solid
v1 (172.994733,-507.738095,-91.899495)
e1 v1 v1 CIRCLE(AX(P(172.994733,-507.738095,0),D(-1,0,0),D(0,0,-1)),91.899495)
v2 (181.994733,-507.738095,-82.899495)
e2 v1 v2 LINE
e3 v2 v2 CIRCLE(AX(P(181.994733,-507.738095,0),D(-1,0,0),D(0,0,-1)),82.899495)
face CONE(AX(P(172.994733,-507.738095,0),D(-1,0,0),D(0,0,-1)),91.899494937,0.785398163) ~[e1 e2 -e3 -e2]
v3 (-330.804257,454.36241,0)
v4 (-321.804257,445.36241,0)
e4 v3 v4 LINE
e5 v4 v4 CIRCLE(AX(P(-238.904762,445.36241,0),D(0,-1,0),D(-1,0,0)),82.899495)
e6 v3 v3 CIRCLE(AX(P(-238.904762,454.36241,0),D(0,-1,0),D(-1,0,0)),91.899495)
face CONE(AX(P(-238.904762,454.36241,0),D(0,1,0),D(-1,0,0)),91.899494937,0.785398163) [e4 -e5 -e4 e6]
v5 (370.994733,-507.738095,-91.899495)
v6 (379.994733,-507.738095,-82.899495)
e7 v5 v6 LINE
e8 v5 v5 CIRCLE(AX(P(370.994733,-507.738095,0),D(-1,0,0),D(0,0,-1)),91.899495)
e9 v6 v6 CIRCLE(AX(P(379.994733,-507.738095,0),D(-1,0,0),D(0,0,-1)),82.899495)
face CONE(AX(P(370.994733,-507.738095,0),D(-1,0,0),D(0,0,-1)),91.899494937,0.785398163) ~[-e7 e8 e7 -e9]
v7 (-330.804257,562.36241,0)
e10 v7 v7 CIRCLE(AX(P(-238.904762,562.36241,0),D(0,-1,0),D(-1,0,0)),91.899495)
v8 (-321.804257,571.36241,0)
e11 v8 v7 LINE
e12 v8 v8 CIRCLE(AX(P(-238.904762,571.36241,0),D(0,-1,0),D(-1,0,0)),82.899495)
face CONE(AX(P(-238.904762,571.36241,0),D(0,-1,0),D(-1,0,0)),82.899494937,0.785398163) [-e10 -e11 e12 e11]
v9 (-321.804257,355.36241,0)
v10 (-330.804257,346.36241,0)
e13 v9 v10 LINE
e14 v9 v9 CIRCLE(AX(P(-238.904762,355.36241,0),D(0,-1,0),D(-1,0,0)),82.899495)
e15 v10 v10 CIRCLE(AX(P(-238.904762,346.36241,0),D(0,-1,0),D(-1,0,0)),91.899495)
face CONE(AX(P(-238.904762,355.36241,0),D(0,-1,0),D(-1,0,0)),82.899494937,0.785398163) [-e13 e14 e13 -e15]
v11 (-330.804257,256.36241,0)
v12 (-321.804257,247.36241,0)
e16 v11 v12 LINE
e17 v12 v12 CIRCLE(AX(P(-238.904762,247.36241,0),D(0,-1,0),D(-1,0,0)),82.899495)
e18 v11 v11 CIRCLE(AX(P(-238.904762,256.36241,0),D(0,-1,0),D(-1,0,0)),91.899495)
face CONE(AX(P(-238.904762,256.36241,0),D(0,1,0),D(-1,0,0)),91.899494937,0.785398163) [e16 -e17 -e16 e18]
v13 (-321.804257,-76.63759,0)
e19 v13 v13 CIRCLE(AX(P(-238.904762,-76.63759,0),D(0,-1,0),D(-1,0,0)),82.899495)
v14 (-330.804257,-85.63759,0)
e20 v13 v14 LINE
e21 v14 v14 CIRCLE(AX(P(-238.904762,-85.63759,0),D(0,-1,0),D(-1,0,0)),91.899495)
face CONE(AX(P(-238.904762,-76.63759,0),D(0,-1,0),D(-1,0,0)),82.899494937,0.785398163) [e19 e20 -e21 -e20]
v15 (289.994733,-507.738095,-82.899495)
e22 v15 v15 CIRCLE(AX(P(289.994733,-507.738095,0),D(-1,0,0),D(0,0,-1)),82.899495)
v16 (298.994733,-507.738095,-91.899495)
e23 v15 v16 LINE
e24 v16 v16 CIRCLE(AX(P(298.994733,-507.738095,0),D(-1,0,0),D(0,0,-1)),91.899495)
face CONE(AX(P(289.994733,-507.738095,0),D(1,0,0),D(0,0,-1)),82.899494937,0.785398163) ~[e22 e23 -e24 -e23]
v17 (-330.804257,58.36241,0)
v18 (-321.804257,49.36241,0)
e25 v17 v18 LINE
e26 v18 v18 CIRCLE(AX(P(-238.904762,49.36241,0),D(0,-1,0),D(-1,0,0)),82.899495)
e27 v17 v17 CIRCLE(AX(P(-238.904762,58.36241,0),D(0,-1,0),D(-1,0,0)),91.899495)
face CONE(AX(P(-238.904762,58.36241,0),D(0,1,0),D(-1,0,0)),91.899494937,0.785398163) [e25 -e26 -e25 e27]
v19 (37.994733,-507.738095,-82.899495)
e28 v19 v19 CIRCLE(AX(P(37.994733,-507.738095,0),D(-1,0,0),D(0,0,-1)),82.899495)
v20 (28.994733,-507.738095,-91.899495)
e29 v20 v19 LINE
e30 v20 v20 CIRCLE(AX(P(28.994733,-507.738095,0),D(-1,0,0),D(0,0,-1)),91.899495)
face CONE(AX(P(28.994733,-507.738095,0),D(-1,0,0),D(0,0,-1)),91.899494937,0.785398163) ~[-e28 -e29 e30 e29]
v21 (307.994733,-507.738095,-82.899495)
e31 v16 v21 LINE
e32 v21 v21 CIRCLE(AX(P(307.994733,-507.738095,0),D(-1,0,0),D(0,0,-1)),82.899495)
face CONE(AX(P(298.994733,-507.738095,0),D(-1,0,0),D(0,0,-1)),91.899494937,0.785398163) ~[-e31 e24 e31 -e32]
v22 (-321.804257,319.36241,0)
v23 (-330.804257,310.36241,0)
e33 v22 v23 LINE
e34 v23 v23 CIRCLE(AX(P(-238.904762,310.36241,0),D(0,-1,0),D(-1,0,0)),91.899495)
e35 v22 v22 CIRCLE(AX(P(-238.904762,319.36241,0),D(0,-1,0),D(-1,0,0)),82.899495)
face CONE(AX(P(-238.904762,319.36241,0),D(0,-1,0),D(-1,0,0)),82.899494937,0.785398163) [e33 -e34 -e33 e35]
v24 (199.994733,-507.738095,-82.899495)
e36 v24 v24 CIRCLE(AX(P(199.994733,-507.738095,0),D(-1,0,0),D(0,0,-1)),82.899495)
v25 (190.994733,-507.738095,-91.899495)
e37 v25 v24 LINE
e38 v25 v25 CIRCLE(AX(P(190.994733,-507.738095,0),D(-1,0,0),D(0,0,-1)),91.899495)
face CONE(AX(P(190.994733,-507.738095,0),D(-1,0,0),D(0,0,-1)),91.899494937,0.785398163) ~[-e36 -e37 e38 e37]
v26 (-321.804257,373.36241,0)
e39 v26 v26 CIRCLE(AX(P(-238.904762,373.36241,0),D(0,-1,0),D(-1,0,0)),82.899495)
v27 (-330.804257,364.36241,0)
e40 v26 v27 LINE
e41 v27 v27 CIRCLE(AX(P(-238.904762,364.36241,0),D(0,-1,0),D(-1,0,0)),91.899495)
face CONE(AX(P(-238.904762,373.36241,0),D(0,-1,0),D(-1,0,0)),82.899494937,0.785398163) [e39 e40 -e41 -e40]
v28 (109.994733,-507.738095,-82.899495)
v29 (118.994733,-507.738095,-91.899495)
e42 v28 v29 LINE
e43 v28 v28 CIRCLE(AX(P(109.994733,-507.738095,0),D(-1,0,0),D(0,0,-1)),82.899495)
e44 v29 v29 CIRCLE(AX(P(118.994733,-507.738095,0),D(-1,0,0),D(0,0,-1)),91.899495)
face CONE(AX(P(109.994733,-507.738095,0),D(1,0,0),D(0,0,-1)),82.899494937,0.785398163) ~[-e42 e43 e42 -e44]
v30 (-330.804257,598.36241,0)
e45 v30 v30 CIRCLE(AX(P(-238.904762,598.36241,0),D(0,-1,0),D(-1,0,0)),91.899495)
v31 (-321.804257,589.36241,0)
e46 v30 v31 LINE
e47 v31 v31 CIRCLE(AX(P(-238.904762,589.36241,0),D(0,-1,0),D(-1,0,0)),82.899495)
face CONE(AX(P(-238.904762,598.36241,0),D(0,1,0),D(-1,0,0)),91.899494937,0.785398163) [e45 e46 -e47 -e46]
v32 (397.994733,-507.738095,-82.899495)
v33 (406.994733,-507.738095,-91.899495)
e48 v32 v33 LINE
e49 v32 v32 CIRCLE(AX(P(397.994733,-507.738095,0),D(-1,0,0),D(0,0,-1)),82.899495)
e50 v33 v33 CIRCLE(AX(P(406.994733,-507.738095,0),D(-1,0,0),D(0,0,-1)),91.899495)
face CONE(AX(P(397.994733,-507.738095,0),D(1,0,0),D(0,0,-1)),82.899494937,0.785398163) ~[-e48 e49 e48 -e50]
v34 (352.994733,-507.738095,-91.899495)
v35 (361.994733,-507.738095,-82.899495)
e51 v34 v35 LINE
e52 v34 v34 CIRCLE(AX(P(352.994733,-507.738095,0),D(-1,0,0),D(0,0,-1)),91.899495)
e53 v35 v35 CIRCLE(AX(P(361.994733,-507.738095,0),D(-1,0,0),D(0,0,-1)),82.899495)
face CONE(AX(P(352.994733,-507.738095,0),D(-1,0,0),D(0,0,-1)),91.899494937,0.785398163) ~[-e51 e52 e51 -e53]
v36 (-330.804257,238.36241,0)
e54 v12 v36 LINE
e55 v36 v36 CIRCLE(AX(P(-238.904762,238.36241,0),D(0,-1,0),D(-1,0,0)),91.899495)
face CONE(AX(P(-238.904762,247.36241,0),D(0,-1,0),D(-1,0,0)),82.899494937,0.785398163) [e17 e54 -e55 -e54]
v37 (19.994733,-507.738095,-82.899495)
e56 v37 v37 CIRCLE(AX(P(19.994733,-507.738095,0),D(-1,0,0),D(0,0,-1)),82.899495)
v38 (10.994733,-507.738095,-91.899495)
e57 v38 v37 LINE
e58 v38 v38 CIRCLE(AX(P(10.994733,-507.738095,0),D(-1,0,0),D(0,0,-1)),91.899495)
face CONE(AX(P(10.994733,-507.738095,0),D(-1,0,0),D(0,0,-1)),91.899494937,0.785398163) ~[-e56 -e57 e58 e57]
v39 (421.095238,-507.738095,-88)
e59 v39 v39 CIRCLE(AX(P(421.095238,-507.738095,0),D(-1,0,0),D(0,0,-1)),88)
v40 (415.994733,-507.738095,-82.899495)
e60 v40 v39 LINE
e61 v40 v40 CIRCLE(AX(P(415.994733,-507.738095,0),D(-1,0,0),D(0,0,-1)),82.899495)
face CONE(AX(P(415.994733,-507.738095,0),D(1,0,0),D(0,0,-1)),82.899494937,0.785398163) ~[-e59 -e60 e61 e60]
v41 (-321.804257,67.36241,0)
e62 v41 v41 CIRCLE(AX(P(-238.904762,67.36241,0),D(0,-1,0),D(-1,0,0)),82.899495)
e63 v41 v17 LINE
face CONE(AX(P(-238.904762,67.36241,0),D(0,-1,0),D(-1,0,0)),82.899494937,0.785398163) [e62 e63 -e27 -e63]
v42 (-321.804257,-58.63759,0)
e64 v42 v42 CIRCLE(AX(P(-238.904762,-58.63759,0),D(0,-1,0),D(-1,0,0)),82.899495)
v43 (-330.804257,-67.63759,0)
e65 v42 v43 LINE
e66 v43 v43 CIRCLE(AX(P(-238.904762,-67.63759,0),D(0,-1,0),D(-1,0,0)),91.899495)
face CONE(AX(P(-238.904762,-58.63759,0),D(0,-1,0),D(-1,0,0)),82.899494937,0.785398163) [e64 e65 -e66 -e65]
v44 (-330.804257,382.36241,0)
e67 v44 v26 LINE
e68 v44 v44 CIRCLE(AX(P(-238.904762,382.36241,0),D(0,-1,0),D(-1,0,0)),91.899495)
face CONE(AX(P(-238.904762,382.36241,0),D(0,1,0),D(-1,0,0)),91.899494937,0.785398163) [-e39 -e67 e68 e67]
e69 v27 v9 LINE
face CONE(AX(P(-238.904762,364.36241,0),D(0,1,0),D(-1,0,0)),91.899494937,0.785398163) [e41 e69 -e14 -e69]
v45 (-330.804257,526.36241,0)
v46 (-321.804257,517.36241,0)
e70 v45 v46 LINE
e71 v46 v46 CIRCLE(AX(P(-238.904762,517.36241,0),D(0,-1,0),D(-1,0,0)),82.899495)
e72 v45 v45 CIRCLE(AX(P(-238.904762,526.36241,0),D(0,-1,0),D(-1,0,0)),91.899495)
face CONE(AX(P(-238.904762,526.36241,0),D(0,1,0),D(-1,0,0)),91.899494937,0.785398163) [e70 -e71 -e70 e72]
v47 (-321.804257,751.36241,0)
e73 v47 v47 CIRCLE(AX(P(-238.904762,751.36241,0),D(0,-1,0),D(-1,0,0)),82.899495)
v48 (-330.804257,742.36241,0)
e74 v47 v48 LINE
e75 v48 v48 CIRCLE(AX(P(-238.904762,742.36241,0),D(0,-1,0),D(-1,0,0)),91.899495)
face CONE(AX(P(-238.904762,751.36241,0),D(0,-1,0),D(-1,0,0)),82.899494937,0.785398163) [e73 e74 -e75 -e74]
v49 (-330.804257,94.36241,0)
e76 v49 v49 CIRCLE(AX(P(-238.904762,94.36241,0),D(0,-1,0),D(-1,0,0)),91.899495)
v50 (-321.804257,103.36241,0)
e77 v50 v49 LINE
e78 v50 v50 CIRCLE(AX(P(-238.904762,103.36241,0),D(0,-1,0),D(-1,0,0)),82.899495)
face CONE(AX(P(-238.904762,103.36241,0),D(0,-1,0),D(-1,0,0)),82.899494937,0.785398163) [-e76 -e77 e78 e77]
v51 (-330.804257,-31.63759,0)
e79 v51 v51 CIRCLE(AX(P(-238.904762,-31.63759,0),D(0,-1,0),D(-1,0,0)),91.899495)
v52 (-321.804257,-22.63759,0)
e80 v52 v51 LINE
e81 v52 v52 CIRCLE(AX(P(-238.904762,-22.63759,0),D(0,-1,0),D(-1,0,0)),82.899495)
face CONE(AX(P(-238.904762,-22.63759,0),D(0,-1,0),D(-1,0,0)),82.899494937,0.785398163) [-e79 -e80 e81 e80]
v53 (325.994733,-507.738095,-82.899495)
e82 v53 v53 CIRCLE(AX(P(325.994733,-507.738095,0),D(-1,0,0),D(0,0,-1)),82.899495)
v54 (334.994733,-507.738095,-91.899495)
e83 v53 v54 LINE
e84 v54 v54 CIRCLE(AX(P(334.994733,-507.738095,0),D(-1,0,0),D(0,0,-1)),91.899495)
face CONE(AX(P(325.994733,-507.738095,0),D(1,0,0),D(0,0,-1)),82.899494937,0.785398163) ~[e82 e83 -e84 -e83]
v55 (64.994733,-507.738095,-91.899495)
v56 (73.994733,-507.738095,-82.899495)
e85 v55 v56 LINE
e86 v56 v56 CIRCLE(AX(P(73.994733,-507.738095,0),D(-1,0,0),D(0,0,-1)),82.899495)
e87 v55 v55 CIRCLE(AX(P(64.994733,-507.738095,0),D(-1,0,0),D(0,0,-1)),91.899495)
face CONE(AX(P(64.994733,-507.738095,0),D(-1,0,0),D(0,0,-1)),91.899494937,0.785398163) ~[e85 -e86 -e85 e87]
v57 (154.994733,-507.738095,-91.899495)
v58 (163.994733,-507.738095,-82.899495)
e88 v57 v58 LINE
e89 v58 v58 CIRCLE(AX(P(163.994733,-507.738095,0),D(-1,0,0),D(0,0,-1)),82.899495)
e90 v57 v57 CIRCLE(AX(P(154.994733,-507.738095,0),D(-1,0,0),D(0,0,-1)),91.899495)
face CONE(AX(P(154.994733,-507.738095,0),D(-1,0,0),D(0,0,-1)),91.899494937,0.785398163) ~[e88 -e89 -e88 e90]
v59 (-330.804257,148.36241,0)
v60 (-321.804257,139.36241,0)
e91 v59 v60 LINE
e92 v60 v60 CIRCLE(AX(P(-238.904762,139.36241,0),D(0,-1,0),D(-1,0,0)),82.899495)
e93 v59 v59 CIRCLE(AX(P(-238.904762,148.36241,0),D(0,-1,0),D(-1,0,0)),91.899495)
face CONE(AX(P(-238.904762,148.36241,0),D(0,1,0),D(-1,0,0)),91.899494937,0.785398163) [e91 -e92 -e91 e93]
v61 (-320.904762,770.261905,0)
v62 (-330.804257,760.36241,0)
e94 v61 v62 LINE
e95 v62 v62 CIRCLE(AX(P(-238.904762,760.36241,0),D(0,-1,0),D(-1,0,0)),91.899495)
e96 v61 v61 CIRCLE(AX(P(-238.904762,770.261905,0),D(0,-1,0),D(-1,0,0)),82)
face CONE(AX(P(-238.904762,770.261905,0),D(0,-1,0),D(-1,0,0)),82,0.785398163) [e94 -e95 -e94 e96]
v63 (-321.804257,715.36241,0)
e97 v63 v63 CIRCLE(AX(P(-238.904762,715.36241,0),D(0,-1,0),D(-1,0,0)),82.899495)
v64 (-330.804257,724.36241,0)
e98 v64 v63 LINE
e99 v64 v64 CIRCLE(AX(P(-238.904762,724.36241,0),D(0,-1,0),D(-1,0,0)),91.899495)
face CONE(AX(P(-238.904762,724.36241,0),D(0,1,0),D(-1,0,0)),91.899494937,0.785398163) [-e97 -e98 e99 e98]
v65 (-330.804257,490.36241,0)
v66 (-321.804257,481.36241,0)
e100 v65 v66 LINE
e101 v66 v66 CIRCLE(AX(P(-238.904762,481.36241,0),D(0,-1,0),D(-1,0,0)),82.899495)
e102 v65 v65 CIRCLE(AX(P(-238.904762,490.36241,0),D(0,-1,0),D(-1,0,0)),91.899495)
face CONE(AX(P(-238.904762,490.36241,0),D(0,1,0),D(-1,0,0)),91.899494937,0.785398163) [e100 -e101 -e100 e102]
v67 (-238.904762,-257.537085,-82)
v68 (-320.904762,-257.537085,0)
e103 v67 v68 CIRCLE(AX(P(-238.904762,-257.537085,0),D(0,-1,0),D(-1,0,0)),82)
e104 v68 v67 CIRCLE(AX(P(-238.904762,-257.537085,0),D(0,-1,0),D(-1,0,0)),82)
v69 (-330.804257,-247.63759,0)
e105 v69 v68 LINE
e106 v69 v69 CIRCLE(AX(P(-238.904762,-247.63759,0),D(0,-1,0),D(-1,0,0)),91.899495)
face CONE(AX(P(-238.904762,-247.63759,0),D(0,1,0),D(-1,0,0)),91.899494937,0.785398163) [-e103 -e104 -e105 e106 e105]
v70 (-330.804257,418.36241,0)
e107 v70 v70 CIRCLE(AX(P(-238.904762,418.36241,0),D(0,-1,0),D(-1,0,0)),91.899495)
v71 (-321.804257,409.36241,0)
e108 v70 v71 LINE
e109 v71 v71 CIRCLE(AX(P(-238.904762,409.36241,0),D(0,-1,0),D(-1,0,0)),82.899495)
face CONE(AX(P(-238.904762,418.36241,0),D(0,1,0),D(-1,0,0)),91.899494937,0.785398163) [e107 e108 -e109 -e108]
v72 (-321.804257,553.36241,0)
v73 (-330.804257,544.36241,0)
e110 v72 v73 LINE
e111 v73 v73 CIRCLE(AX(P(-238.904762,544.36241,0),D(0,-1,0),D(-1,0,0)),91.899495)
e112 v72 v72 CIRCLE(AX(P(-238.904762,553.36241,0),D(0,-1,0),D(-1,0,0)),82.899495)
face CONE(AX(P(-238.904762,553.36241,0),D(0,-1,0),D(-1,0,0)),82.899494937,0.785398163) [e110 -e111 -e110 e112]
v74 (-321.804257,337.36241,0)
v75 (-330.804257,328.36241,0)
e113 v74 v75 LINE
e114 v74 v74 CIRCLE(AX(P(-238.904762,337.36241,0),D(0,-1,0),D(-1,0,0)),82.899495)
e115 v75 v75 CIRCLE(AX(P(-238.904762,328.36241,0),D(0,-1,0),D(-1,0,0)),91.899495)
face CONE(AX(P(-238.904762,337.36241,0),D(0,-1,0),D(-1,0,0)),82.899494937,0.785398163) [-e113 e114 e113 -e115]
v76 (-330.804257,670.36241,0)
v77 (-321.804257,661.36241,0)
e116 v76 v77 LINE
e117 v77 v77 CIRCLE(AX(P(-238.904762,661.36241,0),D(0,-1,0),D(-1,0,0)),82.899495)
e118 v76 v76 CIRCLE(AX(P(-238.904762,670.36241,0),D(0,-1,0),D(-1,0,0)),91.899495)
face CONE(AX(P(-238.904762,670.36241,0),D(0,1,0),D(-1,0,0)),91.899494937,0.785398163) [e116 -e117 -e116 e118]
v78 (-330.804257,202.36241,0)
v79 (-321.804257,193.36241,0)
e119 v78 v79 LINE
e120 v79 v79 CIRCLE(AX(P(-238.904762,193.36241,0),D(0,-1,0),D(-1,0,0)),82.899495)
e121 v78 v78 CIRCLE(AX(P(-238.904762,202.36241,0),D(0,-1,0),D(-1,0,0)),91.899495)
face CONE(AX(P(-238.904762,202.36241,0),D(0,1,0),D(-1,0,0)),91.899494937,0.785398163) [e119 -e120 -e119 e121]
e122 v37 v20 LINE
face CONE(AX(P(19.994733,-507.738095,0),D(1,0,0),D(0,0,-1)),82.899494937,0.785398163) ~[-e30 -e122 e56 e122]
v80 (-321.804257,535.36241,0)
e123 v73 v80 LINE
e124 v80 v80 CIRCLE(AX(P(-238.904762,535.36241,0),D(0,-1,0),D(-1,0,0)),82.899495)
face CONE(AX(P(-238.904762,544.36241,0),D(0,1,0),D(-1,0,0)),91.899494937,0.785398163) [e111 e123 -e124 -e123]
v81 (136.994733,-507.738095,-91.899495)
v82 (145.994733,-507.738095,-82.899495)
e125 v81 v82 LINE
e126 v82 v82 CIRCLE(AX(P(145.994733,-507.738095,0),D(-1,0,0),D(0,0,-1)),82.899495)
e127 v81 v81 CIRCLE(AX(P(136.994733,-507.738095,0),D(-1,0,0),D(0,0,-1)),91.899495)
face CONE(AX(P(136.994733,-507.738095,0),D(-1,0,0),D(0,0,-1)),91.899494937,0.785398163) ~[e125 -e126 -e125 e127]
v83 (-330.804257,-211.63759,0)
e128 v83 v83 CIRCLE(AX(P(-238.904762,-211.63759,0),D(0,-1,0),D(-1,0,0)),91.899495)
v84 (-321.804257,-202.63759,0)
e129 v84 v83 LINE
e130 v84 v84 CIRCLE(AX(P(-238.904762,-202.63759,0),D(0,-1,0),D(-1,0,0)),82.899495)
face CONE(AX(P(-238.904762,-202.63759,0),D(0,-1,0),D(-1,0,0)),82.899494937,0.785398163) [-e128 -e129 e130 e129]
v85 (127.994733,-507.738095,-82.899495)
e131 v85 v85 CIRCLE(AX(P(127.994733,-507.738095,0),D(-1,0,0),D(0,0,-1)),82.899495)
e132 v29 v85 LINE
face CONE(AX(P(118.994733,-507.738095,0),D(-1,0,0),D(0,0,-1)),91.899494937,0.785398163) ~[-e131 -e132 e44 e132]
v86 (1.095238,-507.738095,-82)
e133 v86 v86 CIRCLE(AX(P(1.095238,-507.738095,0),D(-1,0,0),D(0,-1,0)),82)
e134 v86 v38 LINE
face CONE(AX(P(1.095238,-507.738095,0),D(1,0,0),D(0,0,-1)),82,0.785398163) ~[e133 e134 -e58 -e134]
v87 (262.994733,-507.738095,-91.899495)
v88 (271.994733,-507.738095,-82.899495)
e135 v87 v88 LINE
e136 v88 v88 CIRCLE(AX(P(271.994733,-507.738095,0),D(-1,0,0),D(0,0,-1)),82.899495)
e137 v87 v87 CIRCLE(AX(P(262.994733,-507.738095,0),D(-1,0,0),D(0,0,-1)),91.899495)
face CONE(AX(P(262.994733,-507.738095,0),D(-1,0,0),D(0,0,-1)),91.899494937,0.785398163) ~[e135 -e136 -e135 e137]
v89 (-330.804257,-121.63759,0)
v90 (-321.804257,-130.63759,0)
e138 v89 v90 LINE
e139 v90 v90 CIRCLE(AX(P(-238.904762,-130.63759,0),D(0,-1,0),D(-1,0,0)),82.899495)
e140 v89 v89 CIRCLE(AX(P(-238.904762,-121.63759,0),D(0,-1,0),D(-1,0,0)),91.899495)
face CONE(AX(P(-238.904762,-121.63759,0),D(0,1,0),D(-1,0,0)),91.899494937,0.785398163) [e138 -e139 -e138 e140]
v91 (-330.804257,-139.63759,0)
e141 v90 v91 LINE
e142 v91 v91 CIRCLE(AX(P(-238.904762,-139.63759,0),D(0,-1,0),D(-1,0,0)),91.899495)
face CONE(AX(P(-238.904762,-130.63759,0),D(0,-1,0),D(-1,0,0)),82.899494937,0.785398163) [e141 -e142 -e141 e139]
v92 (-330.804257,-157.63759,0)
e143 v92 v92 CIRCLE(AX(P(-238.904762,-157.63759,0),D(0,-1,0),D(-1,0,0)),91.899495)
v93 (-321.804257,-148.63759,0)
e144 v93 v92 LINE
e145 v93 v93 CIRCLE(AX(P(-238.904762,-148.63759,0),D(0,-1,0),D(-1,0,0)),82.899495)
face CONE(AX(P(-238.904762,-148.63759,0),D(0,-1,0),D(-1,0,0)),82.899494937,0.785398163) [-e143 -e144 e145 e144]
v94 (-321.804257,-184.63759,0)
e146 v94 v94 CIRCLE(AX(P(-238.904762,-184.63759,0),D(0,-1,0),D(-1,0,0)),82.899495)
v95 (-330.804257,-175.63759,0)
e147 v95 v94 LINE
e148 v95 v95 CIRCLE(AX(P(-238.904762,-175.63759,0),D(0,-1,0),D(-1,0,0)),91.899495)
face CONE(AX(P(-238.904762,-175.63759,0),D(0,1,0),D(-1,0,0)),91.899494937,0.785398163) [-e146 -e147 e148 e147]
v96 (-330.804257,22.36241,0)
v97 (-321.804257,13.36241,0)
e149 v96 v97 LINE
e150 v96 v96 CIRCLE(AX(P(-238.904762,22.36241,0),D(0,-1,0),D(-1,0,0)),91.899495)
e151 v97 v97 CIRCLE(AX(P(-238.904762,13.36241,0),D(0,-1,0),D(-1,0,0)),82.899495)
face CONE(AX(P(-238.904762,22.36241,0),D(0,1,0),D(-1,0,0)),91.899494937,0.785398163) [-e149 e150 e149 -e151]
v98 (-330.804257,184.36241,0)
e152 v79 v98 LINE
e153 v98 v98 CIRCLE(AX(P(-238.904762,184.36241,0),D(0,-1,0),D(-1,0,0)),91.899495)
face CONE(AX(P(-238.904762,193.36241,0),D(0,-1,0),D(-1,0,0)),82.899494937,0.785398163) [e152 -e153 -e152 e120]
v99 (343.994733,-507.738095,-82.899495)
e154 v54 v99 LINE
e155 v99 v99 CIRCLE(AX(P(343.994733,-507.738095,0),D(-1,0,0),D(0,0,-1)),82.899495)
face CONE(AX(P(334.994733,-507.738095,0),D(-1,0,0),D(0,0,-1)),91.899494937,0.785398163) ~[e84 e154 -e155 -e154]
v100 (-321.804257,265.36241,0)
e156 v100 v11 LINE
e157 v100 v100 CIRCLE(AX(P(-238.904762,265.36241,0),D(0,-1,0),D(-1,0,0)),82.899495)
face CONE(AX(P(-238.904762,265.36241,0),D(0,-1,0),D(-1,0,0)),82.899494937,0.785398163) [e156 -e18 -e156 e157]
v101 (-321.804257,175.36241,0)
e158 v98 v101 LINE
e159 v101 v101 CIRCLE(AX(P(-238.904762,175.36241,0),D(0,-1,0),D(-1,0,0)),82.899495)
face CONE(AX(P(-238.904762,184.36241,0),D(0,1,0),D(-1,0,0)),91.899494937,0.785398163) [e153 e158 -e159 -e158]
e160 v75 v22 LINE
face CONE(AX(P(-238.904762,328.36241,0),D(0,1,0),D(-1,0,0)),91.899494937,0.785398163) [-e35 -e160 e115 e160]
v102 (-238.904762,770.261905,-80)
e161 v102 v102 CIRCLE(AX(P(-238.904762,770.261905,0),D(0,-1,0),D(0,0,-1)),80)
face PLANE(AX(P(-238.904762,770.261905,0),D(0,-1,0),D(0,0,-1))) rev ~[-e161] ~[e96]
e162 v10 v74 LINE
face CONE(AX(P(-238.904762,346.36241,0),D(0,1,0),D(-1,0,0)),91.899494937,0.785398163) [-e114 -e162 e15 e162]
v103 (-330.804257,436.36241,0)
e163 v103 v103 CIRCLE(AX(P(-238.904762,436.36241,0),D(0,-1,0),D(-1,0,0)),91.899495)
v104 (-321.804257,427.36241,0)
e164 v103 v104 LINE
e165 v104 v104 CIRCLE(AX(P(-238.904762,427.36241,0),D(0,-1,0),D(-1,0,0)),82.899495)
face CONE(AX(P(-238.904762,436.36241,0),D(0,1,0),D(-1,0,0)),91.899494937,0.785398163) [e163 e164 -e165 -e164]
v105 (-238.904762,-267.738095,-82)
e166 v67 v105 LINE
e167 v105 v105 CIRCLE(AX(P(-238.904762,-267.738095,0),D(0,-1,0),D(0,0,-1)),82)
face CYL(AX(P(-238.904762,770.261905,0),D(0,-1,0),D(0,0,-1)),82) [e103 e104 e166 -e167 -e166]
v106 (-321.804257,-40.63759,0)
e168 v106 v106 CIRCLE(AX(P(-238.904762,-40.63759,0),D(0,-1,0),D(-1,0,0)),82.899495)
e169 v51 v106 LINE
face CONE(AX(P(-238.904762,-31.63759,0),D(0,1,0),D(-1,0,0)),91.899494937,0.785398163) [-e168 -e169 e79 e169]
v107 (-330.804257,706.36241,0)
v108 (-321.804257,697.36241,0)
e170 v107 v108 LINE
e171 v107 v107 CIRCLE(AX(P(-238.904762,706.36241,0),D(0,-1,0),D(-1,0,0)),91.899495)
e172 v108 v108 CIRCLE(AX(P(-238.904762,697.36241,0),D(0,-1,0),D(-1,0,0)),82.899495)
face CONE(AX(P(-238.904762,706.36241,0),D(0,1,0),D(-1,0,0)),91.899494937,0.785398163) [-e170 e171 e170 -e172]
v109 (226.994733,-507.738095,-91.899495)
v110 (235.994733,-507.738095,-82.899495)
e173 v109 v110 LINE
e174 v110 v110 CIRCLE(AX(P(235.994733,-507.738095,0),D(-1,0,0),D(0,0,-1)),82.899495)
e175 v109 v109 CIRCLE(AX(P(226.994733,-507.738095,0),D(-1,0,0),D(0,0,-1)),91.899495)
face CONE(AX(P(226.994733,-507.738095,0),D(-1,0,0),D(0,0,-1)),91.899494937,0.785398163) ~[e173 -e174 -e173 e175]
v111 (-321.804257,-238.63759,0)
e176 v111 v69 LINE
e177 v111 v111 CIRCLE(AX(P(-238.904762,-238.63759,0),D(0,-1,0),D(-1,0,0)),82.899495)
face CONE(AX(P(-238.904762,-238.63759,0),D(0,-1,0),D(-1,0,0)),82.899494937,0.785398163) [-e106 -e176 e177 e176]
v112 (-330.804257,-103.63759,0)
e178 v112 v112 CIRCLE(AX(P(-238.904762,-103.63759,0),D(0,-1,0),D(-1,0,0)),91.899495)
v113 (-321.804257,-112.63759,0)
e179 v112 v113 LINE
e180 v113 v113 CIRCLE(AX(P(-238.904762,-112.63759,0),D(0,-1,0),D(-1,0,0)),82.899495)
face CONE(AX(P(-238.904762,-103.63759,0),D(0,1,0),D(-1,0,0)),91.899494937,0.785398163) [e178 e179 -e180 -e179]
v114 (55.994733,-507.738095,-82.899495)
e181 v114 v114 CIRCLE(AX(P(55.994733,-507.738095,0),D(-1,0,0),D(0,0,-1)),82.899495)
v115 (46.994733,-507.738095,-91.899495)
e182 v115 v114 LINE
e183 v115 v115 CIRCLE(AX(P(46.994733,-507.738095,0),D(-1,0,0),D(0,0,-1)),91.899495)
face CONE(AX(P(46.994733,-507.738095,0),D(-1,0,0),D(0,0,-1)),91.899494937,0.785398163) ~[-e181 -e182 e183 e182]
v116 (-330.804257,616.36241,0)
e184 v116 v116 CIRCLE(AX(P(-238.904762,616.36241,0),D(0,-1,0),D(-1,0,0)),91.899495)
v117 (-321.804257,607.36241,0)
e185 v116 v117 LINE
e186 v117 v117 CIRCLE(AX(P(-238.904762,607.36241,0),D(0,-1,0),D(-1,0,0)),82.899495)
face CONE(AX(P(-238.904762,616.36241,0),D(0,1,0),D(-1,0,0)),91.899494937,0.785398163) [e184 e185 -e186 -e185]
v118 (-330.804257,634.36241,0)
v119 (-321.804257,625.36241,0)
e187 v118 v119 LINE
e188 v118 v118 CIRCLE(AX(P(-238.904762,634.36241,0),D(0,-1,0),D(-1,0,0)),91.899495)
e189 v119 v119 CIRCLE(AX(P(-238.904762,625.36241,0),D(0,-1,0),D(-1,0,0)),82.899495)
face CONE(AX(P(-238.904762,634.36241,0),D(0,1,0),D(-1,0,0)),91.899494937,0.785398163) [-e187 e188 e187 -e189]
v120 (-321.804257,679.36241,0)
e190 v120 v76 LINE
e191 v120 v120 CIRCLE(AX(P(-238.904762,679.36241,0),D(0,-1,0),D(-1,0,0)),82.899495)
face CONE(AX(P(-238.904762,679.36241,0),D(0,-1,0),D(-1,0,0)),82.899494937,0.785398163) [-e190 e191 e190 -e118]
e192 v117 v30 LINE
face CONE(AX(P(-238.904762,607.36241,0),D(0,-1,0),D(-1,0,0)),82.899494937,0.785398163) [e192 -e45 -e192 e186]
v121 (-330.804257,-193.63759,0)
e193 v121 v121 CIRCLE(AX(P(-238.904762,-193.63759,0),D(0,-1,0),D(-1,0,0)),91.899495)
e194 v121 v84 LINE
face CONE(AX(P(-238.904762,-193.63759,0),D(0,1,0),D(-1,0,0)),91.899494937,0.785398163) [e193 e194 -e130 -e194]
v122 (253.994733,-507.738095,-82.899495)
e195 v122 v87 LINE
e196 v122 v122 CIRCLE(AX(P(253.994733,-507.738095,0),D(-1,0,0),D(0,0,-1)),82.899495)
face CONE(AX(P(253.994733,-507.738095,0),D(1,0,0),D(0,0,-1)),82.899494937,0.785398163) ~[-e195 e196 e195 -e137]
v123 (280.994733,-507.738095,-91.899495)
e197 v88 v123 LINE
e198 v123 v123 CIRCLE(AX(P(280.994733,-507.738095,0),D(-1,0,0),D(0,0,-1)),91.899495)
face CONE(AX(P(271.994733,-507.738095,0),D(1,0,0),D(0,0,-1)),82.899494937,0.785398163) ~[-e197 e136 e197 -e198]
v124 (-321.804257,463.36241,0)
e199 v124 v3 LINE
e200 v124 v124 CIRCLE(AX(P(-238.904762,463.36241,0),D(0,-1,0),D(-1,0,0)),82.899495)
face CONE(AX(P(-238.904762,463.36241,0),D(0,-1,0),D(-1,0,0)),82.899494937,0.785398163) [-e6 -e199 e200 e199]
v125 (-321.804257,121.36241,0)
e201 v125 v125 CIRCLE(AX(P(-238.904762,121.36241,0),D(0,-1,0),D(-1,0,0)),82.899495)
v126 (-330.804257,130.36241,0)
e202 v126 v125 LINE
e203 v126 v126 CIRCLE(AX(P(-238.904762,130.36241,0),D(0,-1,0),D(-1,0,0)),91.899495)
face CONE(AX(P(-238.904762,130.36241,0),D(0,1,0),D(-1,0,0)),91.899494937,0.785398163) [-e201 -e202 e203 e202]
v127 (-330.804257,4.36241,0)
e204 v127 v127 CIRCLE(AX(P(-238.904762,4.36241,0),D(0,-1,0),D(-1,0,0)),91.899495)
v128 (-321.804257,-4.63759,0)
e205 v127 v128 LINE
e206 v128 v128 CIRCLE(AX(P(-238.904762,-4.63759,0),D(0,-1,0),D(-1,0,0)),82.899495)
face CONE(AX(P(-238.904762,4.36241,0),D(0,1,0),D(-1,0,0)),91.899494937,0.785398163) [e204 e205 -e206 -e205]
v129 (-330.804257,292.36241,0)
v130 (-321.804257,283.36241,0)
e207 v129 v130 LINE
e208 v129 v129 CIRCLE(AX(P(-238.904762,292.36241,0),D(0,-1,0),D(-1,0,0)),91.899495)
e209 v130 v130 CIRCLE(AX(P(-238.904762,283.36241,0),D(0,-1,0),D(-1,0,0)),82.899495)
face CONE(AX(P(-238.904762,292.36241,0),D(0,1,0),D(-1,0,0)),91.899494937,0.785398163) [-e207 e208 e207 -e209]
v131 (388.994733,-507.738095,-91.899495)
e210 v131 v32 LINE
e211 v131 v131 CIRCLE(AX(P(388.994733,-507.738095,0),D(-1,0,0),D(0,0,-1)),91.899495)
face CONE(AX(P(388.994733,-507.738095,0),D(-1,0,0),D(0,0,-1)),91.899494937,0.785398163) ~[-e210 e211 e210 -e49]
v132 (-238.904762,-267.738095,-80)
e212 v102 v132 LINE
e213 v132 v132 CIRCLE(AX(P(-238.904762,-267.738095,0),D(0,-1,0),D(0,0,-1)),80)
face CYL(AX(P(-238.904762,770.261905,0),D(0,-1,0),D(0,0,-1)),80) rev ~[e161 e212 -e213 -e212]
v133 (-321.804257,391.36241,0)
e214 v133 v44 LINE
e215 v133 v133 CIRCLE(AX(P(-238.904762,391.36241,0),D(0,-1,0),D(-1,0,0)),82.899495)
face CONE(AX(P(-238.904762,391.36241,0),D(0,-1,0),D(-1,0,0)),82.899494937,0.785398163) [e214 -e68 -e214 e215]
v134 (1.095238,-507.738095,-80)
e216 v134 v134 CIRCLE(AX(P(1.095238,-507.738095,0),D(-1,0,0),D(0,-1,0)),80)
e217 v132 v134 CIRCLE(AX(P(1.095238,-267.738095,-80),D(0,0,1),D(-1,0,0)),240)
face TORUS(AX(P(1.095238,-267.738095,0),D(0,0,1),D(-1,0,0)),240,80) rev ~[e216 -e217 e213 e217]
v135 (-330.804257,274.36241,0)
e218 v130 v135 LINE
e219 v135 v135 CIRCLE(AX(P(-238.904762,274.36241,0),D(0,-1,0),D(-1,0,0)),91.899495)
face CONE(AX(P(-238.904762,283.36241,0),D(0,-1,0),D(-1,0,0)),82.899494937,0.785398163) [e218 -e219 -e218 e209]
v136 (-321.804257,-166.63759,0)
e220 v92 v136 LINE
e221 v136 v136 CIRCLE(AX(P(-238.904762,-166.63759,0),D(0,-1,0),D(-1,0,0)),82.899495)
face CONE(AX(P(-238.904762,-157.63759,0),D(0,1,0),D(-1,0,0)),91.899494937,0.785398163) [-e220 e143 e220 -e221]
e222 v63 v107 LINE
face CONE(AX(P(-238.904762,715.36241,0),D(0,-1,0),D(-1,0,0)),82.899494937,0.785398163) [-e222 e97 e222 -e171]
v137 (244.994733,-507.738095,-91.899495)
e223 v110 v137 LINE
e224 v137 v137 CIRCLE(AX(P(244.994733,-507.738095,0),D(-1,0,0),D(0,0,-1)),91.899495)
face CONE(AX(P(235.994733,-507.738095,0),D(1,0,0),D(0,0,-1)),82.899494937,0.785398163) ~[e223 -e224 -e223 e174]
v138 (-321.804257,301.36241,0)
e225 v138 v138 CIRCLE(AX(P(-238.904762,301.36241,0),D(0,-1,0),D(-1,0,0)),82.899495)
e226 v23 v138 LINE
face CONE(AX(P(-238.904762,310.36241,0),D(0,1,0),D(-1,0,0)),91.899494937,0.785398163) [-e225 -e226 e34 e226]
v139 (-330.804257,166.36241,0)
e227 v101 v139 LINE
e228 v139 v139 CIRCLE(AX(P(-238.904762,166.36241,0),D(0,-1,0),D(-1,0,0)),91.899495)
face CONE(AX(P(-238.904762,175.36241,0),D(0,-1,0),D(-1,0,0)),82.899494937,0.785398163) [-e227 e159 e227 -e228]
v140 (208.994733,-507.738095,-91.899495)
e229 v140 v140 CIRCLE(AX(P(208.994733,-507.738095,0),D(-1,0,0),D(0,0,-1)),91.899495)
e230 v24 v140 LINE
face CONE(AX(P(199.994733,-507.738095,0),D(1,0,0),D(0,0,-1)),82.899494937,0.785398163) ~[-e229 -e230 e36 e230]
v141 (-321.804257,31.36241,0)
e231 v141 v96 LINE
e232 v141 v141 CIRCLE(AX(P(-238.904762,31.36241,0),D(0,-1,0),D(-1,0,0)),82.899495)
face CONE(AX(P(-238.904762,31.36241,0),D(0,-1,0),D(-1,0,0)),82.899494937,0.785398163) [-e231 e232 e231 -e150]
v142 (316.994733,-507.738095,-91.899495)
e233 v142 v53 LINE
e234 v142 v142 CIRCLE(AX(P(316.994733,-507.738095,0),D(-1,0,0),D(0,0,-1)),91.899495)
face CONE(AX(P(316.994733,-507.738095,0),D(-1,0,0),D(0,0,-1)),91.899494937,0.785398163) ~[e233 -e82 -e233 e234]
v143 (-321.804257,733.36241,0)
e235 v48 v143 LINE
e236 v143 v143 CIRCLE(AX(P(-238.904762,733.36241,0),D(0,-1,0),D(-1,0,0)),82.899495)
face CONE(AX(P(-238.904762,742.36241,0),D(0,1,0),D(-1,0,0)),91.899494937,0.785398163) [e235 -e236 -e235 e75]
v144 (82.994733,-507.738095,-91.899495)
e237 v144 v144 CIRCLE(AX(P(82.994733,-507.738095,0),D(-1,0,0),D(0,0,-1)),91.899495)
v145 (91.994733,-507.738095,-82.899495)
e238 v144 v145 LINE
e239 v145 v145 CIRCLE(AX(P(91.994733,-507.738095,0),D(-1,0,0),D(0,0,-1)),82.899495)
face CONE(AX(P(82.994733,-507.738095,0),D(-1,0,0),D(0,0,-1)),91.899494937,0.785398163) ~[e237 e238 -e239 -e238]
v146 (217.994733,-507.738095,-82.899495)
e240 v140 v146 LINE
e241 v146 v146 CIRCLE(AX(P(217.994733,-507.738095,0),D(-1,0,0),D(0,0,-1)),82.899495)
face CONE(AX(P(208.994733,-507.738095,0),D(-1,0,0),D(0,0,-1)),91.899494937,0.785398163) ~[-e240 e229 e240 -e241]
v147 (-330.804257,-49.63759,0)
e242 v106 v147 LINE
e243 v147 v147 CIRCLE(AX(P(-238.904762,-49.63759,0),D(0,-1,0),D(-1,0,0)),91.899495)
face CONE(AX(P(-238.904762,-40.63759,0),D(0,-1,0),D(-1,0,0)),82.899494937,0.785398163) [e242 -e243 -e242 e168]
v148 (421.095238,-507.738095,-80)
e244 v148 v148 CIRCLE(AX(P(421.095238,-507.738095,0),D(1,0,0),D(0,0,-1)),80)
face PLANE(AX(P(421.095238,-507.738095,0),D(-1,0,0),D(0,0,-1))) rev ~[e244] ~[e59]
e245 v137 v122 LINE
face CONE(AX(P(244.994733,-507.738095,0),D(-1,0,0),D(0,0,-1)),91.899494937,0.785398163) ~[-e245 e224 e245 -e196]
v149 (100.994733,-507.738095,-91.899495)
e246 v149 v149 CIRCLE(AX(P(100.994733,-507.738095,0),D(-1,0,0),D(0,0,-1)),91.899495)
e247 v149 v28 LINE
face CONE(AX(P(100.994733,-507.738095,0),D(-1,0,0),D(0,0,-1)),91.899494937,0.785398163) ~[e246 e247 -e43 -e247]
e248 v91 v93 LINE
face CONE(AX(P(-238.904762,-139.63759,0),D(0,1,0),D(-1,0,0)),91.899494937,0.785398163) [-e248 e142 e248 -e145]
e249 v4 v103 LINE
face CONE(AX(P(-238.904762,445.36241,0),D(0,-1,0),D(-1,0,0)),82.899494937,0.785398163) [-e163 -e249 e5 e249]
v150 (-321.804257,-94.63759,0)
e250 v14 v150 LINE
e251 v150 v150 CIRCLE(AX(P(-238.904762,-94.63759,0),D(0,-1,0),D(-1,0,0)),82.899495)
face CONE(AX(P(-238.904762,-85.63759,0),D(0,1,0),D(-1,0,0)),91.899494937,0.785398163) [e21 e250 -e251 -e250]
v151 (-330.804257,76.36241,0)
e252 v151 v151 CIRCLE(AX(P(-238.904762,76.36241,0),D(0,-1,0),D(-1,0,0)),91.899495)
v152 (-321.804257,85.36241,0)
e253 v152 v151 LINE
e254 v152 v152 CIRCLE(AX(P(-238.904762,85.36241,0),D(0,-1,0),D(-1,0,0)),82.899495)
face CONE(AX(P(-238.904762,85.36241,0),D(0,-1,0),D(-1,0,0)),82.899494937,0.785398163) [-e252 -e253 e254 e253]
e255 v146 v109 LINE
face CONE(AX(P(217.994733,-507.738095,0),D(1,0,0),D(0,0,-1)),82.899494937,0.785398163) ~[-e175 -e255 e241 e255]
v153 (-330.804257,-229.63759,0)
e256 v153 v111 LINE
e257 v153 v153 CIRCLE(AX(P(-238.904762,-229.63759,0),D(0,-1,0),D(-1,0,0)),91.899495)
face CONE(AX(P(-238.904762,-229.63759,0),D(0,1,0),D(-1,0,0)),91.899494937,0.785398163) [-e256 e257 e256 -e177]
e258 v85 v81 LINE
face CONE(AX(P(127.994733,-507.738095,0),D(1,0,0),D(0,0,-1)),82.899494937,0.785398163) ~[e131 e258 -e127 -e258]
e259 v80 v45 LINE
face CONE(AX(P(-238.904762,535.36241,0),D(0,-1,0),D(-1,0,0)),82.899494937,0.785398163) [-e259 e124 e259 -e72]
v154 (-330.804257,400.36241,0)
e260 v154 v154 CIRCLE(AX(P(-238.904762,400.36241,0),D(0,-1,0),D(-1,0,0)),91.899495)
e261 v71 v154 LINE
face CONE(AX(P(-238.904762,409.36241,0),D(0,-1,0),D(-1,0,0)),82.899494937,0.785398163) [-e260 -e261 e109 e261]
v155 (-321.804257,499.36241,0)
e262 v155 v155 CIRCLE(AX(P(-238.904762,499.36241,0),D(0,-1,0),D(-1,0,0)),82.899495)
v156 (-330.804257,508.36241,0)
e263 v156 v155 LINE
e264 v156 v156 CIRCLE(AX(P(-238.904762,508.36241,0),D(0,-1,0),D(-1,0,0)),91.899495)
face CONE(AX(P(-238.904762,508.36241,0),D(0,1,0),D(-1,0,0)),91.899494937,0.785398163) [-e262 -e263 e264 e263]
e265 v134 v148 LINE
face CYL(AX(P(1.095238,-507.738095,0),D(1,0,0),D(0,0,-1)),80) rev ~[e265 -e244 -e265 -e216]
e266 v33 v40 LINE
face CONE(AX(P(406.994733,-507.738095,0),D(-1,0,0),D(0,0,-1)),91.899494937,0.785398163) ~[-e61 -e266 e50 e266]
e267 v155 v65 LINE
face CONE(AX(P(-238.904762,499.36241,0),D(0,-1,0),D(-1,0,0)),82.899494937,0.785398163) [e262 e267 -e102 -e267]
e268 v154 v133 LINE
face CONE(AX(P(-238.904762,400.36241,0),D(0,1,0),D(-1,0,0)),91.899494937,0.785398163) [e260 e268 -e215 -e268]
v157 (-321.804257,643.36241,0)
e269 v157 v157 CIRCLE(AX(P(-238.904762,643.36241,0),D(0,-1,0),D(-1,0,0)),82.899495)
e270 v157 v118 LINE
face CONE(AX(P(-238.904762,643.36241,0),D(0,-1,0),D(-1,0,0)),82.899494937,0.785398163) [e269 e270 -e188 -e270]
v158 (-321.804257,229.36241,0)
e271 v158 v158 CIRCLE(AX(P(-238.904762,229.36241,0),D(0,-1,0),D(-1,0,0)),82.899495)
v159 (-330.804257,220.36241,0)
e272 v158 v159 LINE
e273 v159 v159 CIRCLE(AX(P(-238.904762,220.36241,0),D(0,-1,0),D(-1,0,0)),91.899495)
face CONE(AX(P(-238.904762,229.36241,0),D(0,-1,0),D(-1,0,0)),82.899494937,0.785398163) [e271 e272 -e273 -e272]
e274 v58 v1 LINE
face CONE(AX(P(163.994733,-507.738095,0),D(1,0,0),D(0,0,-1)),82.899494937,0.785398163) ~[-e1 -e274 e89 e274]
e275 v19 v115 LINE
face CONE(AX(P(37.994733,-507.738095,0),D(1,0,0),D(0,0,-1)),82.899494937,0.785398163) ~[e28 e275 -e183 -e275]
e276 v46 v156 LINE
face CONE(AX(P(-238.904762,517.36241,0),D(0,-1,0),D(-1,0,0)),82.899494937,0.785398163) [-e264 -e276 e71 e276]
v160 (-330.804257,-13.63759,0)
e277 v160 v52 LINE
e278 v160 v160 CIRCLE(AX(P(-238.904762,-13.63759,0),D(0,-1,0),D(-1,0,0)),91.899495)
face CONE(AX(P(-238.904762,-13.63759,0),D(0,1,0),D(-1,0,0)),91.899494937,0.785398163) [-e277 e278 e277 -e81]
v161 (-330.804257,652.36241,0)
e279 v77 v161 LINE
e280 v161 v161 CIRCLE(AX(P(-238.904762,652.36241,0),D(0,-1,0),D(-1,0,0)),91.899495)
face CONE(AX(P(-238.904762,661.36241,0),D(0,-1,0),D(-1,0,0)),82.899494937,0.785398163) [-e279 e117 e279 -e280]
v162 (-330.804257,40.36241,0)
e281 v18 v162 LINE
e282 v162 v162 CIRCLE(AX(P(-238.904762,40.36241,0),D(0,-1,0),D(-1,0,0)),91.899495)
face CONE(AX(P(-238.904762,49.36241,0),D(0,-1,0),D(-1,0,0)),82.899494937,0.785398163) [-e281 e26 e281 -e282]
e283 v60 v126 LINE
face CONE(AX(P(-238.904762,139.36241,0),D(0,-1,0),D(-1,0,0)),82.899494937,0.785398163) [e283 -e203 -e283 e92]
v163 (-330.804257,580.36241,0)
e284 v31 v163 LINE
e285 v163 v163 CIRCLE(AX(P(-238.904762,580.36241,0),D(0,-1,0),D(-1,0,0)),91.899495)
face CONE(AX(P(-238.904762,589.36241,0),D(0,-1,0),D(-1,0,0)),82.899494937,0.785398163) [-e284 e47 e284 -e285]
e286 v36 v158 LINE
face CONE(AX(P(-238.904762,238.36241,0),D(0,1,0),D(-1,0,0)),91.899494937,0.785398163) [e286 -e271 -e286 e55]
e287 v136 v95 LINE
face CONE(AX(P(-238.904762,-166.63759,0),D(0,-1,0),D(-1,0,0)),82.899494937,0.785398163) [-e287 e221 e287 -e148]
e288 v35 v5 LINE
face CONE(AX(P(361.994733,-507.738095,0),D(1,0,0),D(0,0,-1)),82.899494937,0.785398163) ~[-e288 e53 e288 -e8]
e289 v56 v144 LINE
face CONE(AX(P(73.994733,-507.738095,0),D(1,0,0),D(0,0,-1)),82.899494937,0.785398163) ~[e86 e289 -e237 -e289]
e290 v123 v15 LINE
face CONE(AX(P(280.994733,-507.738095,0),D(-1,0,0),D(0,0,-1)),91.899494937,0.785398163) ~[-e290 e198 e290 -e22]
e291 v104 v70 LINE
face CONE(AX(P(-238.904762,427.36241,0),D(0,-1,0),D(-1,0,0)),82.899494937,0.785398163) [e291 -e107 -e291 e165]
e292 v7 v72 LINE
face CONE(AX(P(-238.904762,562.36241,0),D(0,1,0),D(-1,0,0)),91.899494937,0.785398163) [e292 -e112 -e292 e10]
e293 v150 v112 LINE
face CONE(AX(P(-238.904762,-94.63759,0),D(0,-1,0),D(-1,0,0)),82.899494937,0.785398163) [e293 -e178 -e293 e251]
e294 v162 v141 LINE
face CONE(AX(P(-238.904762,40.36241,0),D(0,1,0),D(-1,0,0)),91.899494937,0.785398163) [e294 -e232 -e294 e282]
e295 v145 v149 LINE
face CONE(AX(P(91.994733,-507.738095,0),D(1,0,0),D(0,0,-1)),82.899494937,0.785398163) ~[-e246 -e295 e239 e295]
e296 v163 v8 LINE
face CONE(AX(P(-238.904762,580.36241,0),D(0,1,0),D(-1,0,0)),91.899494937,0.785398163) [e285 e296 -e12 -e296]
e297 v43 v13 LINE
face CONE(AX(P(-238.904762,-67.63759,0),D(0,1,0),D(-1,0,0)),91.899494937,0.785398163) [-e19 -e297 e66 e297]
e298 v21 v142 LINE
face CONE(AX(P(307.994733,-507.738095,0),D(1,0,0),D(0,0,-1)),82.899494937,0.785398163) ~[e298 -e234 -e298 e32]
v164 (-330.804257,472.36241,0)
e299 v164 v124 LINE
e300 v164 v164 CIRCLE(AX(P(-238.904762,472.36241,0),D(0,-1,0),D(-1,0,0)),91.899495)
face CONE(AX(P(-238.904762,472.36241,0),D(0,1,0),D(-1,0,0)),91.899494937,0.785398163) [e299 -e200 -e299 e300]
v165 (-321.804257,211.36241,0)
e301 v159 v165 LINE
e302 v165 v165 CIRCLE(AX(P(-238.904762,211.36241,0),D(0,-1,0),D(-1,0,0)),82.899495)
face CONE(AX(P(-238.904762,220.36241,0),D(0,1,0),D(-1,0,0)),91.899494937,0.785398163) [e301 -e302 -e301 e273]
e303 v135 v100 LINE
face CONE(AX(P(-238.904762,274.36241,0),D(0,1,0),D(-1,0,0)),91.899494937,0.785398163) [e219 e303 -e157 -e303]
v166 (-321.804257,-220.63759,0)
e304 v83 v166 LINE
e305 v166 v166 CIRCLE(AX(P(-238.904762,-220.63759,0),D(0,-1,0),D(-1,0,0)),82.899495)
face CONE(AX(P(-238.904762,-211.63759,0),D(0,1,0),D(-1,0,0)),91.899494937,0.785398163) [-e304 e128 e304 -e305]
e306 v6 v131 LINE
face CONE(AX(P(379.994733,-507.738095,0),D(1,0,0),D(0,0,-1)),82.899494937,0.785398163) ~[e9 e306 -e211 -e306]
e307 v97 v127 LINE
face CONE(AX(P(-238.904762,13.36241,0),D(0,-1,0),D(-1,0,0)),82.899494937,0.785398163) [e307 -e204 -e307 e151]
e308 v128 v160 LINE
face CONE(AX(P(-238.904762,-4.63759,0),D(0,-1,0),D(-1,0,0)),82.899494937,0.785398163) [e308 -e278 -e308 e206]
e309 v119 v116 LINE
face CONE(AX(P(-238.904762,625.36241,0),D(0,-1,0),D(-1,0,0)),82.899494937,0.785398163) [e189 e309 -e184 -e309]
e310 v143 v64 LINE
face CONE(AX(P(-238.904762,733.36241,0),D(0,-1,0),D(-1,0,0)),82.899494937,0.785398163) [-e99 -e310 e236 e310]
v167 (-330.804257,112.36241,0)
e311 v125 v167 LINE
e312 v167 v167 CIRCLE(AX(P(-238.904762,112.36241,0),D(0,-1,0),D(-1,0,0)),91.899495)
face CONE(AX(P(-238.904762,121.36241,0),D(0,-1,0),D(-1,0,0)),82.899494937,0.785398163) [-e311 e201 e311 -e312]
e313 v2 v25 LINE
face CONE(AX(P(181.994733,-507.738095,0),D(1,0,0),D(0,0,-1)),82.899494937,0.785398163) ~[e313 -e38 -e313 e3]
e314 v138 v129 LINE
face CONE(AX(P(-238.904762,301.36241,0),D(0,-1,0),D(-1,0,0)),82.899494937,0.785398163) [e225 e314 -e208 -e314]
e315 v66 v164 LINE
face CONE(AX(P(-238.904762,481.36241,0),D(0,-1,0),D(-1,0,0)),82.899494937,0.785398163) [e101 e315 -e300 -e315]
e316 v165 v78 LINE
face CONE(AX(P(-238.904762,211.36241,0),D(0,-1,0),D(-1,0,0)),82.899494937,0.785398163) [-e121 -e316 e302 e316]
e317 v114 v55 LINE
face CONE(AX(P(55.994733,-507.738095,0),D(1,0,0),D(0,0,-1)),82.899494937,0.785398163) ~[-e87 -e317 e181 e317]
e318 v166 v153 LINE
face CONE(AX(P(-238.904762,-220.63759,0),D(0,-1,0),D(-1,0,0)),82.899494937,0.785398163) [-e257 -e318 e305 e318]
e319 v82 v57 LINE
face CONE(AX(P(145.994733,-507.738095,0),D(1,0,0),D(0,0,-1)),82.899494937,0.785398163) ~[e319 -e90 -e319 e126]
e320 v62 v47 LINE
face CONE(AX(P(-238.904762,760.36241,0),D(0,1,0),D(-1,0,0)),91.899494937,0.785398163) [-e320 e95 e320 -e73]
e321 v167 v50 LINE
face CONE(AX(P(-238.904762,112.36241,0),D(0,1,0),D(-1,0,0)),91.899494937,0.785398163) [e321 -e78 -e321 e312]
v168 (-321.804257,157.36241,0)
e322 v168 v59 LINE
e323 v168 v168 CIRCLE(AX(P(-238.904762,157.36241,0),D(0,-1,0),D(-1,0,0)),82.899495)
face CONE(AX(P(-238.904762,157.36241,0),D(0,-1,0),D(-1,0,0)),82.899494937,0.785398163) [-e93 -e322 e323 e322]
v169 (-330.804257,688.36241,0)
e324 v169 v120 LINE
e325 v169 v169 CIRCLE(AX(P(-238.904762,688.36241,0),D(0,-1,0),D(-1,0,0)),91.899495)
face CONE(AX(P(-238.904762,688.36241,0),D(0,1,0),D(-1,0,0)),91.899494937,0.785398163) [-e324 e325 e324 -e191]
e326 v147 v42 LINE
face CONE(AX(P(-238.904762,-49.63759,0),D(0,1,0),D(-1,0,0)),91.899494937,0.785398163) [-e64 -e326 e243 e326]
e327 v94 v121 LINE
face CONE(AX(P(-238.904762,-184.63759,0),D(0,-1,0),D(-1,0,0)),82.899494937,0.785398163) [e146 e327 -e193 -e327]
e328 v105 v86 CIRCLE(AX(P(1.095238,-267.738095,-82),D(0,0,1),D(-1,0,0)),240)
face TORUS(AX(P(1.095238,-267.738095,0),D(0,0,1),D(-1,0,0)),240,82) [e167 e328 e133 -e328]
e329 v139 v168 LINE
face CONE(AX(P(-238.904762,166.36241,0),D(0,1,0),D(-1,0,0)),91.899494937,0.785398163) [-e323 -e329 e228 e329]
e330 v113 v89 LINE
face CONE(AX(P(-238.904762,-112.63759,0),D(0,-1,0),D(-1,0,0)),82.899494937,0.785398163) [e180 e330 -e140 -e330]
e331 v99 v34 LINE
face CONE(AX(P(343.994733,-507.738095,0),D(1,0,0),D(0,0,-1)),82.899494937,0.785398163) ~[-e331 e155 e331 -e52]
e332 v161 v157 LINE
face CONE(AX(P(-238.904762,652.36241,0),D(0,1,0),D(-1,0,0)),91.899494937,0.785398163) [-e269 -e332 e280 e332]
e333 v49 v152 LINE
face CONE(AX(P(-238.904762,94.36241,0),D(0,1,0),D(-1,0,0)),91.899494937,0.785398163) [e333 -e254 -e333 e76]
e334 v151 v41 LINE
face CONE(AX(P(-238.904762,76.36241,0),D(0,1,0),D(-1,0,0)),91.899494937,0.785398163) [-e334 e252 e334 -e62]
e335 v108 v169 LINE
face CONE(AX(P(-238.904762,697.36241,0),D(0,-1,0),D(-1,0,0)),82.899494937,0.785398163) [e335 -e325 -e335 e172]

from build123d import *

# Parameters (mm, degrees)
SWEEP_THIN1_PROFILE_R   = 82
SWEEP_THIN1_PROFILE_R_2 = 80


with BuildPart() as part:
    # Sweep-Thin1: sweep along a path in Sketch1
    with BuildLine(Plane.XY) as sweep_thin1_path:
        Line((-238.904761905, 770.261904762), (-238.904761905, -267.738095238))
        ThreePointArc((-238.904761905, -267.738095238), (-168.61038939, -437.443722723), (1.095238095, -507.738095238))
        Line((1.095238095, -507.738095238), (421.095238095, -507.738095238))
    # Sweep-Thin1 profile (on start of the path) → Sweep-Thin1 (sweep)
    with BuildSketch(Plane(origin=(-238.904761905, 770.261904762, 0), x_dir=(0, 0, -1), z_dir=(0, -1, 0))):
        Circle(SWEEP_THIN1_PROFILE_R)
        Circle(SWEEP_THIN1_PROFILE_R_2, mode=Mode.SUBTRACT)
    sweep(path=sweep_thin1_path.line)

    # Sketch12 → Revolve2 (revolve)
    with BuildSketch(Plane.XY, mode=Mode.PRIVATE) as revolve2_sk:
        Polygon((-156.904761905, 770.261904762), (-147.005266968, 760.362409825), (-156.005266968, 751.362409825), (-147.005266968, 742.362409825), (-156.005266968, 733.362409825), (-147.005266968, 724.362409825), (-156.005266968, 715.362409825), (-147.005266968, 706.362409825), (-156.005266968, 697.362409825), (-147.005266968, 688.362409825), (-156.005266968, 679.362409825), (-147.005266968, 670.362409825), (-156.005266968, 661.362409825), (-147.005266968, 652.362409825), (-156.005266968, 643.362409825), (-147.005266968, 634.362409825), (-156.005266968, 625.362409825), (-147.005266968, 616.362409825), (-156.005266968, 607.362409825), (-147.005266968, 598.362409825), (-156.005266968, 589.362409825), (-147.005266968, 580.362409825), (-156.005266968, 571.362409825), (-147.005266968, 562.362409825), (-156.005266968, 553.362409825), (-147.005266968, 544.362409825), (-156.005266968, 535.362409825), (-147.005266968, 526.362409825), (-156.005266968, 517.362409825), (-147.005266968, 508.362409825), (-156.005266968, 499.362409825), (-147.005266968, 490.362409825), (-156.005266968, 481.362409825), (-147.005266968, 472.362409825), (-156.005266968, 463.362409825), (-147.005266968, 454.362409825), (-156.005266968, 445.362409825), (-147.005266968, 436.362409825), (-156.005266968, 427.362409825), (-147.005266968, 418.362409825), (-156.005266968, 409.362409825), (-147.005266968, 400.362409825), (-156.005266968, 391.362409825), (-147.005266968, 382.362409825), (-156.005266968, 373.362409825), (-147.005266968, 364.362409825), (-156.005266968, 355.362409825), (-147.005266968, 346.362409825), (-156.005266968, 337.362409825), (-147.005266968, 328.362409825), (-156.005266968, 319.362409825), (-147.005266968, 310.362409825), (-156.005266968, 301.362409825), (-147.005266968, 292.362409825), (-156.005266968, 283.362409825), (-147.005266968, 274.362409825), (-156.005266968, 265.362409825), (-147.005266968, 256.362409825), (-156.005266968, 247.362409825), (-147.005266968, 238.362409825), (-156.005266968, 229.362409825), (-147.005266968, 220.362409825), (-156.005266968, 211.362409825), (-147.005266968, 202.362409825), (-156.005266968, 193.362409825), (-147.005266968, 184.362409825), (-156.005266968, 175.362409825), (-147.005266968, 166.362409825), (-156.005266968, 157.362409825), (-147.005266968, 148.362409825), (-156.005266968, 139.362409825), (-147.005266968, 130.362409825), (-156.005266968, 121.362409825), (-147.005266968, 112.362409825), (-156.005266968, 103.362409825), (-147.005266968, 94.362409825), (-156.005266968, 85.362409825), (-147.005266968, 76.362409825), (-156.005266968, 67.362409825), (-147.005266968, 58.362409825), (-156.005266968, 49.362409825), (-147.005266968, 40.362409825), (-156.005266968, 31.362409825), (-147.005266968, 22.362409825), (-156.005266968, 13.362409825), (-147.005266968, 4.362409825), (-156.005266968, -4.637590175), (-147.005266968, -13.637590175), (-156.005266968, -22.637590175), (-147.005266968, -31.637590175), (-156.005266968, -40.637590175), (-147.005266968, -49.637590175), (-156.005266968, -58.637590175), (-147.005266968, -67.637590175), (-156.005266968, -76.637590175), (-147.005266968, -85.637590175), (-156.005266968, -94.637590175), (-147.005266968, -103.637590175), (-156.005266968, -112.637590175), (-147.005266968, -121.637590175), (-156.005266968, -130.637590175), (-147.005266968, -139.637590175), (-156.005266968, -148.637590175), (-147.005266968, -157.637590175), (-156.005266968, -166.637590175), (-147.005266968, -175.637590175), (-156.005266968, -184.637590175), (-147.005266968, -193.637590175), (-156.005266968, -202.637590175), (-147.005266968, -211.637590175), (-156.005266968, -220.637590175), (-147.005266968, -229.637590175), (-156.005266968, -238.637590175), (-147.005266968, -247.637590175), (-156.904761905, -257.537085111), align=None)
    revolve(revolve2_sk.sketch.rotate(Axis((-238.904761905, 770.261904762, 0), (0, -1, 0)), 180), axis=Axis((-238.904761905, 770.261904762, 0), (0, -1, 0)))

    # Sketch13 → Revolve3 (revolve)
    with BuildSketch(Plane.XY, mode=Mode.PRIVATE) as revolve3_sk:
        Polygon((1.095238095, -425.738095238), (10.994733032, -415.838600301), (19.994733032, -424.838600301), (28.994733032, -415.838600301), (37.994733032, -424.838600301), (46.994733032, -415.838600301), (55.994733032, -424.838600301), (64.994733032, -415.838600301), (73.994733032, -424.838600301), (82.994733032, -415.838600301), (91.994733032, -424.838600301), (100.994733032, -415.838600301), (109.994733032, -424.838600301), (118.994733032, -415.838600301), (127.994733032, -424.838600301), (136.994733032, -415.838600301), (145.994733032, -424.838600301), (154.994733032, -415.838600301), (163.994733032, -424.838600301), (172.994733032, -415.838600301), (181.994733032, -424.838600301), (190.994733032, -415.838600301), (199.994733032, -424.838600301), (208.994733032, -415.838600301), (217.994733032, -424.838600301), (226.994733032, -415.838600301), (235.994733032, -424.838600301), (244.994733032, -415.838600301), (253.994733032, -424.838600301), (262.994733032, -415.838600301), (271.994733032, -424.838600301), (280.994733032, -415.838600301), (289.994733032, -424.838600301), (298.994733032, -415.838600301), (307.994733032, -424.838600301), (316.994733032, -415.838600301), (325.994733032, -424.838600301), (334.994733032, -415.838600301), (343.994733032, -424.838600301), (352.994733032, -415.838600301), (361.994733032, -424.838600301), (370.994733032, -415.838600301), (379.994733032, -424.838600301), (388.994733032, -415.838600301), (397.994733032, -424.838600301), (406.994733032, -415.838600301), (415.994733032, -424.838600301), (421.095238095, -419.738095238), (421.095238095, -425.738095238), align=None)
    revolve(revolve3_sk.sketch.rotate(Axis((421.095238095, -507.738095238, 0), (-1, 0, 0)), 90), axis=Axis((421.095238095, -507.738095238, 0), (-1, 0, 0)))


solid = part.part
